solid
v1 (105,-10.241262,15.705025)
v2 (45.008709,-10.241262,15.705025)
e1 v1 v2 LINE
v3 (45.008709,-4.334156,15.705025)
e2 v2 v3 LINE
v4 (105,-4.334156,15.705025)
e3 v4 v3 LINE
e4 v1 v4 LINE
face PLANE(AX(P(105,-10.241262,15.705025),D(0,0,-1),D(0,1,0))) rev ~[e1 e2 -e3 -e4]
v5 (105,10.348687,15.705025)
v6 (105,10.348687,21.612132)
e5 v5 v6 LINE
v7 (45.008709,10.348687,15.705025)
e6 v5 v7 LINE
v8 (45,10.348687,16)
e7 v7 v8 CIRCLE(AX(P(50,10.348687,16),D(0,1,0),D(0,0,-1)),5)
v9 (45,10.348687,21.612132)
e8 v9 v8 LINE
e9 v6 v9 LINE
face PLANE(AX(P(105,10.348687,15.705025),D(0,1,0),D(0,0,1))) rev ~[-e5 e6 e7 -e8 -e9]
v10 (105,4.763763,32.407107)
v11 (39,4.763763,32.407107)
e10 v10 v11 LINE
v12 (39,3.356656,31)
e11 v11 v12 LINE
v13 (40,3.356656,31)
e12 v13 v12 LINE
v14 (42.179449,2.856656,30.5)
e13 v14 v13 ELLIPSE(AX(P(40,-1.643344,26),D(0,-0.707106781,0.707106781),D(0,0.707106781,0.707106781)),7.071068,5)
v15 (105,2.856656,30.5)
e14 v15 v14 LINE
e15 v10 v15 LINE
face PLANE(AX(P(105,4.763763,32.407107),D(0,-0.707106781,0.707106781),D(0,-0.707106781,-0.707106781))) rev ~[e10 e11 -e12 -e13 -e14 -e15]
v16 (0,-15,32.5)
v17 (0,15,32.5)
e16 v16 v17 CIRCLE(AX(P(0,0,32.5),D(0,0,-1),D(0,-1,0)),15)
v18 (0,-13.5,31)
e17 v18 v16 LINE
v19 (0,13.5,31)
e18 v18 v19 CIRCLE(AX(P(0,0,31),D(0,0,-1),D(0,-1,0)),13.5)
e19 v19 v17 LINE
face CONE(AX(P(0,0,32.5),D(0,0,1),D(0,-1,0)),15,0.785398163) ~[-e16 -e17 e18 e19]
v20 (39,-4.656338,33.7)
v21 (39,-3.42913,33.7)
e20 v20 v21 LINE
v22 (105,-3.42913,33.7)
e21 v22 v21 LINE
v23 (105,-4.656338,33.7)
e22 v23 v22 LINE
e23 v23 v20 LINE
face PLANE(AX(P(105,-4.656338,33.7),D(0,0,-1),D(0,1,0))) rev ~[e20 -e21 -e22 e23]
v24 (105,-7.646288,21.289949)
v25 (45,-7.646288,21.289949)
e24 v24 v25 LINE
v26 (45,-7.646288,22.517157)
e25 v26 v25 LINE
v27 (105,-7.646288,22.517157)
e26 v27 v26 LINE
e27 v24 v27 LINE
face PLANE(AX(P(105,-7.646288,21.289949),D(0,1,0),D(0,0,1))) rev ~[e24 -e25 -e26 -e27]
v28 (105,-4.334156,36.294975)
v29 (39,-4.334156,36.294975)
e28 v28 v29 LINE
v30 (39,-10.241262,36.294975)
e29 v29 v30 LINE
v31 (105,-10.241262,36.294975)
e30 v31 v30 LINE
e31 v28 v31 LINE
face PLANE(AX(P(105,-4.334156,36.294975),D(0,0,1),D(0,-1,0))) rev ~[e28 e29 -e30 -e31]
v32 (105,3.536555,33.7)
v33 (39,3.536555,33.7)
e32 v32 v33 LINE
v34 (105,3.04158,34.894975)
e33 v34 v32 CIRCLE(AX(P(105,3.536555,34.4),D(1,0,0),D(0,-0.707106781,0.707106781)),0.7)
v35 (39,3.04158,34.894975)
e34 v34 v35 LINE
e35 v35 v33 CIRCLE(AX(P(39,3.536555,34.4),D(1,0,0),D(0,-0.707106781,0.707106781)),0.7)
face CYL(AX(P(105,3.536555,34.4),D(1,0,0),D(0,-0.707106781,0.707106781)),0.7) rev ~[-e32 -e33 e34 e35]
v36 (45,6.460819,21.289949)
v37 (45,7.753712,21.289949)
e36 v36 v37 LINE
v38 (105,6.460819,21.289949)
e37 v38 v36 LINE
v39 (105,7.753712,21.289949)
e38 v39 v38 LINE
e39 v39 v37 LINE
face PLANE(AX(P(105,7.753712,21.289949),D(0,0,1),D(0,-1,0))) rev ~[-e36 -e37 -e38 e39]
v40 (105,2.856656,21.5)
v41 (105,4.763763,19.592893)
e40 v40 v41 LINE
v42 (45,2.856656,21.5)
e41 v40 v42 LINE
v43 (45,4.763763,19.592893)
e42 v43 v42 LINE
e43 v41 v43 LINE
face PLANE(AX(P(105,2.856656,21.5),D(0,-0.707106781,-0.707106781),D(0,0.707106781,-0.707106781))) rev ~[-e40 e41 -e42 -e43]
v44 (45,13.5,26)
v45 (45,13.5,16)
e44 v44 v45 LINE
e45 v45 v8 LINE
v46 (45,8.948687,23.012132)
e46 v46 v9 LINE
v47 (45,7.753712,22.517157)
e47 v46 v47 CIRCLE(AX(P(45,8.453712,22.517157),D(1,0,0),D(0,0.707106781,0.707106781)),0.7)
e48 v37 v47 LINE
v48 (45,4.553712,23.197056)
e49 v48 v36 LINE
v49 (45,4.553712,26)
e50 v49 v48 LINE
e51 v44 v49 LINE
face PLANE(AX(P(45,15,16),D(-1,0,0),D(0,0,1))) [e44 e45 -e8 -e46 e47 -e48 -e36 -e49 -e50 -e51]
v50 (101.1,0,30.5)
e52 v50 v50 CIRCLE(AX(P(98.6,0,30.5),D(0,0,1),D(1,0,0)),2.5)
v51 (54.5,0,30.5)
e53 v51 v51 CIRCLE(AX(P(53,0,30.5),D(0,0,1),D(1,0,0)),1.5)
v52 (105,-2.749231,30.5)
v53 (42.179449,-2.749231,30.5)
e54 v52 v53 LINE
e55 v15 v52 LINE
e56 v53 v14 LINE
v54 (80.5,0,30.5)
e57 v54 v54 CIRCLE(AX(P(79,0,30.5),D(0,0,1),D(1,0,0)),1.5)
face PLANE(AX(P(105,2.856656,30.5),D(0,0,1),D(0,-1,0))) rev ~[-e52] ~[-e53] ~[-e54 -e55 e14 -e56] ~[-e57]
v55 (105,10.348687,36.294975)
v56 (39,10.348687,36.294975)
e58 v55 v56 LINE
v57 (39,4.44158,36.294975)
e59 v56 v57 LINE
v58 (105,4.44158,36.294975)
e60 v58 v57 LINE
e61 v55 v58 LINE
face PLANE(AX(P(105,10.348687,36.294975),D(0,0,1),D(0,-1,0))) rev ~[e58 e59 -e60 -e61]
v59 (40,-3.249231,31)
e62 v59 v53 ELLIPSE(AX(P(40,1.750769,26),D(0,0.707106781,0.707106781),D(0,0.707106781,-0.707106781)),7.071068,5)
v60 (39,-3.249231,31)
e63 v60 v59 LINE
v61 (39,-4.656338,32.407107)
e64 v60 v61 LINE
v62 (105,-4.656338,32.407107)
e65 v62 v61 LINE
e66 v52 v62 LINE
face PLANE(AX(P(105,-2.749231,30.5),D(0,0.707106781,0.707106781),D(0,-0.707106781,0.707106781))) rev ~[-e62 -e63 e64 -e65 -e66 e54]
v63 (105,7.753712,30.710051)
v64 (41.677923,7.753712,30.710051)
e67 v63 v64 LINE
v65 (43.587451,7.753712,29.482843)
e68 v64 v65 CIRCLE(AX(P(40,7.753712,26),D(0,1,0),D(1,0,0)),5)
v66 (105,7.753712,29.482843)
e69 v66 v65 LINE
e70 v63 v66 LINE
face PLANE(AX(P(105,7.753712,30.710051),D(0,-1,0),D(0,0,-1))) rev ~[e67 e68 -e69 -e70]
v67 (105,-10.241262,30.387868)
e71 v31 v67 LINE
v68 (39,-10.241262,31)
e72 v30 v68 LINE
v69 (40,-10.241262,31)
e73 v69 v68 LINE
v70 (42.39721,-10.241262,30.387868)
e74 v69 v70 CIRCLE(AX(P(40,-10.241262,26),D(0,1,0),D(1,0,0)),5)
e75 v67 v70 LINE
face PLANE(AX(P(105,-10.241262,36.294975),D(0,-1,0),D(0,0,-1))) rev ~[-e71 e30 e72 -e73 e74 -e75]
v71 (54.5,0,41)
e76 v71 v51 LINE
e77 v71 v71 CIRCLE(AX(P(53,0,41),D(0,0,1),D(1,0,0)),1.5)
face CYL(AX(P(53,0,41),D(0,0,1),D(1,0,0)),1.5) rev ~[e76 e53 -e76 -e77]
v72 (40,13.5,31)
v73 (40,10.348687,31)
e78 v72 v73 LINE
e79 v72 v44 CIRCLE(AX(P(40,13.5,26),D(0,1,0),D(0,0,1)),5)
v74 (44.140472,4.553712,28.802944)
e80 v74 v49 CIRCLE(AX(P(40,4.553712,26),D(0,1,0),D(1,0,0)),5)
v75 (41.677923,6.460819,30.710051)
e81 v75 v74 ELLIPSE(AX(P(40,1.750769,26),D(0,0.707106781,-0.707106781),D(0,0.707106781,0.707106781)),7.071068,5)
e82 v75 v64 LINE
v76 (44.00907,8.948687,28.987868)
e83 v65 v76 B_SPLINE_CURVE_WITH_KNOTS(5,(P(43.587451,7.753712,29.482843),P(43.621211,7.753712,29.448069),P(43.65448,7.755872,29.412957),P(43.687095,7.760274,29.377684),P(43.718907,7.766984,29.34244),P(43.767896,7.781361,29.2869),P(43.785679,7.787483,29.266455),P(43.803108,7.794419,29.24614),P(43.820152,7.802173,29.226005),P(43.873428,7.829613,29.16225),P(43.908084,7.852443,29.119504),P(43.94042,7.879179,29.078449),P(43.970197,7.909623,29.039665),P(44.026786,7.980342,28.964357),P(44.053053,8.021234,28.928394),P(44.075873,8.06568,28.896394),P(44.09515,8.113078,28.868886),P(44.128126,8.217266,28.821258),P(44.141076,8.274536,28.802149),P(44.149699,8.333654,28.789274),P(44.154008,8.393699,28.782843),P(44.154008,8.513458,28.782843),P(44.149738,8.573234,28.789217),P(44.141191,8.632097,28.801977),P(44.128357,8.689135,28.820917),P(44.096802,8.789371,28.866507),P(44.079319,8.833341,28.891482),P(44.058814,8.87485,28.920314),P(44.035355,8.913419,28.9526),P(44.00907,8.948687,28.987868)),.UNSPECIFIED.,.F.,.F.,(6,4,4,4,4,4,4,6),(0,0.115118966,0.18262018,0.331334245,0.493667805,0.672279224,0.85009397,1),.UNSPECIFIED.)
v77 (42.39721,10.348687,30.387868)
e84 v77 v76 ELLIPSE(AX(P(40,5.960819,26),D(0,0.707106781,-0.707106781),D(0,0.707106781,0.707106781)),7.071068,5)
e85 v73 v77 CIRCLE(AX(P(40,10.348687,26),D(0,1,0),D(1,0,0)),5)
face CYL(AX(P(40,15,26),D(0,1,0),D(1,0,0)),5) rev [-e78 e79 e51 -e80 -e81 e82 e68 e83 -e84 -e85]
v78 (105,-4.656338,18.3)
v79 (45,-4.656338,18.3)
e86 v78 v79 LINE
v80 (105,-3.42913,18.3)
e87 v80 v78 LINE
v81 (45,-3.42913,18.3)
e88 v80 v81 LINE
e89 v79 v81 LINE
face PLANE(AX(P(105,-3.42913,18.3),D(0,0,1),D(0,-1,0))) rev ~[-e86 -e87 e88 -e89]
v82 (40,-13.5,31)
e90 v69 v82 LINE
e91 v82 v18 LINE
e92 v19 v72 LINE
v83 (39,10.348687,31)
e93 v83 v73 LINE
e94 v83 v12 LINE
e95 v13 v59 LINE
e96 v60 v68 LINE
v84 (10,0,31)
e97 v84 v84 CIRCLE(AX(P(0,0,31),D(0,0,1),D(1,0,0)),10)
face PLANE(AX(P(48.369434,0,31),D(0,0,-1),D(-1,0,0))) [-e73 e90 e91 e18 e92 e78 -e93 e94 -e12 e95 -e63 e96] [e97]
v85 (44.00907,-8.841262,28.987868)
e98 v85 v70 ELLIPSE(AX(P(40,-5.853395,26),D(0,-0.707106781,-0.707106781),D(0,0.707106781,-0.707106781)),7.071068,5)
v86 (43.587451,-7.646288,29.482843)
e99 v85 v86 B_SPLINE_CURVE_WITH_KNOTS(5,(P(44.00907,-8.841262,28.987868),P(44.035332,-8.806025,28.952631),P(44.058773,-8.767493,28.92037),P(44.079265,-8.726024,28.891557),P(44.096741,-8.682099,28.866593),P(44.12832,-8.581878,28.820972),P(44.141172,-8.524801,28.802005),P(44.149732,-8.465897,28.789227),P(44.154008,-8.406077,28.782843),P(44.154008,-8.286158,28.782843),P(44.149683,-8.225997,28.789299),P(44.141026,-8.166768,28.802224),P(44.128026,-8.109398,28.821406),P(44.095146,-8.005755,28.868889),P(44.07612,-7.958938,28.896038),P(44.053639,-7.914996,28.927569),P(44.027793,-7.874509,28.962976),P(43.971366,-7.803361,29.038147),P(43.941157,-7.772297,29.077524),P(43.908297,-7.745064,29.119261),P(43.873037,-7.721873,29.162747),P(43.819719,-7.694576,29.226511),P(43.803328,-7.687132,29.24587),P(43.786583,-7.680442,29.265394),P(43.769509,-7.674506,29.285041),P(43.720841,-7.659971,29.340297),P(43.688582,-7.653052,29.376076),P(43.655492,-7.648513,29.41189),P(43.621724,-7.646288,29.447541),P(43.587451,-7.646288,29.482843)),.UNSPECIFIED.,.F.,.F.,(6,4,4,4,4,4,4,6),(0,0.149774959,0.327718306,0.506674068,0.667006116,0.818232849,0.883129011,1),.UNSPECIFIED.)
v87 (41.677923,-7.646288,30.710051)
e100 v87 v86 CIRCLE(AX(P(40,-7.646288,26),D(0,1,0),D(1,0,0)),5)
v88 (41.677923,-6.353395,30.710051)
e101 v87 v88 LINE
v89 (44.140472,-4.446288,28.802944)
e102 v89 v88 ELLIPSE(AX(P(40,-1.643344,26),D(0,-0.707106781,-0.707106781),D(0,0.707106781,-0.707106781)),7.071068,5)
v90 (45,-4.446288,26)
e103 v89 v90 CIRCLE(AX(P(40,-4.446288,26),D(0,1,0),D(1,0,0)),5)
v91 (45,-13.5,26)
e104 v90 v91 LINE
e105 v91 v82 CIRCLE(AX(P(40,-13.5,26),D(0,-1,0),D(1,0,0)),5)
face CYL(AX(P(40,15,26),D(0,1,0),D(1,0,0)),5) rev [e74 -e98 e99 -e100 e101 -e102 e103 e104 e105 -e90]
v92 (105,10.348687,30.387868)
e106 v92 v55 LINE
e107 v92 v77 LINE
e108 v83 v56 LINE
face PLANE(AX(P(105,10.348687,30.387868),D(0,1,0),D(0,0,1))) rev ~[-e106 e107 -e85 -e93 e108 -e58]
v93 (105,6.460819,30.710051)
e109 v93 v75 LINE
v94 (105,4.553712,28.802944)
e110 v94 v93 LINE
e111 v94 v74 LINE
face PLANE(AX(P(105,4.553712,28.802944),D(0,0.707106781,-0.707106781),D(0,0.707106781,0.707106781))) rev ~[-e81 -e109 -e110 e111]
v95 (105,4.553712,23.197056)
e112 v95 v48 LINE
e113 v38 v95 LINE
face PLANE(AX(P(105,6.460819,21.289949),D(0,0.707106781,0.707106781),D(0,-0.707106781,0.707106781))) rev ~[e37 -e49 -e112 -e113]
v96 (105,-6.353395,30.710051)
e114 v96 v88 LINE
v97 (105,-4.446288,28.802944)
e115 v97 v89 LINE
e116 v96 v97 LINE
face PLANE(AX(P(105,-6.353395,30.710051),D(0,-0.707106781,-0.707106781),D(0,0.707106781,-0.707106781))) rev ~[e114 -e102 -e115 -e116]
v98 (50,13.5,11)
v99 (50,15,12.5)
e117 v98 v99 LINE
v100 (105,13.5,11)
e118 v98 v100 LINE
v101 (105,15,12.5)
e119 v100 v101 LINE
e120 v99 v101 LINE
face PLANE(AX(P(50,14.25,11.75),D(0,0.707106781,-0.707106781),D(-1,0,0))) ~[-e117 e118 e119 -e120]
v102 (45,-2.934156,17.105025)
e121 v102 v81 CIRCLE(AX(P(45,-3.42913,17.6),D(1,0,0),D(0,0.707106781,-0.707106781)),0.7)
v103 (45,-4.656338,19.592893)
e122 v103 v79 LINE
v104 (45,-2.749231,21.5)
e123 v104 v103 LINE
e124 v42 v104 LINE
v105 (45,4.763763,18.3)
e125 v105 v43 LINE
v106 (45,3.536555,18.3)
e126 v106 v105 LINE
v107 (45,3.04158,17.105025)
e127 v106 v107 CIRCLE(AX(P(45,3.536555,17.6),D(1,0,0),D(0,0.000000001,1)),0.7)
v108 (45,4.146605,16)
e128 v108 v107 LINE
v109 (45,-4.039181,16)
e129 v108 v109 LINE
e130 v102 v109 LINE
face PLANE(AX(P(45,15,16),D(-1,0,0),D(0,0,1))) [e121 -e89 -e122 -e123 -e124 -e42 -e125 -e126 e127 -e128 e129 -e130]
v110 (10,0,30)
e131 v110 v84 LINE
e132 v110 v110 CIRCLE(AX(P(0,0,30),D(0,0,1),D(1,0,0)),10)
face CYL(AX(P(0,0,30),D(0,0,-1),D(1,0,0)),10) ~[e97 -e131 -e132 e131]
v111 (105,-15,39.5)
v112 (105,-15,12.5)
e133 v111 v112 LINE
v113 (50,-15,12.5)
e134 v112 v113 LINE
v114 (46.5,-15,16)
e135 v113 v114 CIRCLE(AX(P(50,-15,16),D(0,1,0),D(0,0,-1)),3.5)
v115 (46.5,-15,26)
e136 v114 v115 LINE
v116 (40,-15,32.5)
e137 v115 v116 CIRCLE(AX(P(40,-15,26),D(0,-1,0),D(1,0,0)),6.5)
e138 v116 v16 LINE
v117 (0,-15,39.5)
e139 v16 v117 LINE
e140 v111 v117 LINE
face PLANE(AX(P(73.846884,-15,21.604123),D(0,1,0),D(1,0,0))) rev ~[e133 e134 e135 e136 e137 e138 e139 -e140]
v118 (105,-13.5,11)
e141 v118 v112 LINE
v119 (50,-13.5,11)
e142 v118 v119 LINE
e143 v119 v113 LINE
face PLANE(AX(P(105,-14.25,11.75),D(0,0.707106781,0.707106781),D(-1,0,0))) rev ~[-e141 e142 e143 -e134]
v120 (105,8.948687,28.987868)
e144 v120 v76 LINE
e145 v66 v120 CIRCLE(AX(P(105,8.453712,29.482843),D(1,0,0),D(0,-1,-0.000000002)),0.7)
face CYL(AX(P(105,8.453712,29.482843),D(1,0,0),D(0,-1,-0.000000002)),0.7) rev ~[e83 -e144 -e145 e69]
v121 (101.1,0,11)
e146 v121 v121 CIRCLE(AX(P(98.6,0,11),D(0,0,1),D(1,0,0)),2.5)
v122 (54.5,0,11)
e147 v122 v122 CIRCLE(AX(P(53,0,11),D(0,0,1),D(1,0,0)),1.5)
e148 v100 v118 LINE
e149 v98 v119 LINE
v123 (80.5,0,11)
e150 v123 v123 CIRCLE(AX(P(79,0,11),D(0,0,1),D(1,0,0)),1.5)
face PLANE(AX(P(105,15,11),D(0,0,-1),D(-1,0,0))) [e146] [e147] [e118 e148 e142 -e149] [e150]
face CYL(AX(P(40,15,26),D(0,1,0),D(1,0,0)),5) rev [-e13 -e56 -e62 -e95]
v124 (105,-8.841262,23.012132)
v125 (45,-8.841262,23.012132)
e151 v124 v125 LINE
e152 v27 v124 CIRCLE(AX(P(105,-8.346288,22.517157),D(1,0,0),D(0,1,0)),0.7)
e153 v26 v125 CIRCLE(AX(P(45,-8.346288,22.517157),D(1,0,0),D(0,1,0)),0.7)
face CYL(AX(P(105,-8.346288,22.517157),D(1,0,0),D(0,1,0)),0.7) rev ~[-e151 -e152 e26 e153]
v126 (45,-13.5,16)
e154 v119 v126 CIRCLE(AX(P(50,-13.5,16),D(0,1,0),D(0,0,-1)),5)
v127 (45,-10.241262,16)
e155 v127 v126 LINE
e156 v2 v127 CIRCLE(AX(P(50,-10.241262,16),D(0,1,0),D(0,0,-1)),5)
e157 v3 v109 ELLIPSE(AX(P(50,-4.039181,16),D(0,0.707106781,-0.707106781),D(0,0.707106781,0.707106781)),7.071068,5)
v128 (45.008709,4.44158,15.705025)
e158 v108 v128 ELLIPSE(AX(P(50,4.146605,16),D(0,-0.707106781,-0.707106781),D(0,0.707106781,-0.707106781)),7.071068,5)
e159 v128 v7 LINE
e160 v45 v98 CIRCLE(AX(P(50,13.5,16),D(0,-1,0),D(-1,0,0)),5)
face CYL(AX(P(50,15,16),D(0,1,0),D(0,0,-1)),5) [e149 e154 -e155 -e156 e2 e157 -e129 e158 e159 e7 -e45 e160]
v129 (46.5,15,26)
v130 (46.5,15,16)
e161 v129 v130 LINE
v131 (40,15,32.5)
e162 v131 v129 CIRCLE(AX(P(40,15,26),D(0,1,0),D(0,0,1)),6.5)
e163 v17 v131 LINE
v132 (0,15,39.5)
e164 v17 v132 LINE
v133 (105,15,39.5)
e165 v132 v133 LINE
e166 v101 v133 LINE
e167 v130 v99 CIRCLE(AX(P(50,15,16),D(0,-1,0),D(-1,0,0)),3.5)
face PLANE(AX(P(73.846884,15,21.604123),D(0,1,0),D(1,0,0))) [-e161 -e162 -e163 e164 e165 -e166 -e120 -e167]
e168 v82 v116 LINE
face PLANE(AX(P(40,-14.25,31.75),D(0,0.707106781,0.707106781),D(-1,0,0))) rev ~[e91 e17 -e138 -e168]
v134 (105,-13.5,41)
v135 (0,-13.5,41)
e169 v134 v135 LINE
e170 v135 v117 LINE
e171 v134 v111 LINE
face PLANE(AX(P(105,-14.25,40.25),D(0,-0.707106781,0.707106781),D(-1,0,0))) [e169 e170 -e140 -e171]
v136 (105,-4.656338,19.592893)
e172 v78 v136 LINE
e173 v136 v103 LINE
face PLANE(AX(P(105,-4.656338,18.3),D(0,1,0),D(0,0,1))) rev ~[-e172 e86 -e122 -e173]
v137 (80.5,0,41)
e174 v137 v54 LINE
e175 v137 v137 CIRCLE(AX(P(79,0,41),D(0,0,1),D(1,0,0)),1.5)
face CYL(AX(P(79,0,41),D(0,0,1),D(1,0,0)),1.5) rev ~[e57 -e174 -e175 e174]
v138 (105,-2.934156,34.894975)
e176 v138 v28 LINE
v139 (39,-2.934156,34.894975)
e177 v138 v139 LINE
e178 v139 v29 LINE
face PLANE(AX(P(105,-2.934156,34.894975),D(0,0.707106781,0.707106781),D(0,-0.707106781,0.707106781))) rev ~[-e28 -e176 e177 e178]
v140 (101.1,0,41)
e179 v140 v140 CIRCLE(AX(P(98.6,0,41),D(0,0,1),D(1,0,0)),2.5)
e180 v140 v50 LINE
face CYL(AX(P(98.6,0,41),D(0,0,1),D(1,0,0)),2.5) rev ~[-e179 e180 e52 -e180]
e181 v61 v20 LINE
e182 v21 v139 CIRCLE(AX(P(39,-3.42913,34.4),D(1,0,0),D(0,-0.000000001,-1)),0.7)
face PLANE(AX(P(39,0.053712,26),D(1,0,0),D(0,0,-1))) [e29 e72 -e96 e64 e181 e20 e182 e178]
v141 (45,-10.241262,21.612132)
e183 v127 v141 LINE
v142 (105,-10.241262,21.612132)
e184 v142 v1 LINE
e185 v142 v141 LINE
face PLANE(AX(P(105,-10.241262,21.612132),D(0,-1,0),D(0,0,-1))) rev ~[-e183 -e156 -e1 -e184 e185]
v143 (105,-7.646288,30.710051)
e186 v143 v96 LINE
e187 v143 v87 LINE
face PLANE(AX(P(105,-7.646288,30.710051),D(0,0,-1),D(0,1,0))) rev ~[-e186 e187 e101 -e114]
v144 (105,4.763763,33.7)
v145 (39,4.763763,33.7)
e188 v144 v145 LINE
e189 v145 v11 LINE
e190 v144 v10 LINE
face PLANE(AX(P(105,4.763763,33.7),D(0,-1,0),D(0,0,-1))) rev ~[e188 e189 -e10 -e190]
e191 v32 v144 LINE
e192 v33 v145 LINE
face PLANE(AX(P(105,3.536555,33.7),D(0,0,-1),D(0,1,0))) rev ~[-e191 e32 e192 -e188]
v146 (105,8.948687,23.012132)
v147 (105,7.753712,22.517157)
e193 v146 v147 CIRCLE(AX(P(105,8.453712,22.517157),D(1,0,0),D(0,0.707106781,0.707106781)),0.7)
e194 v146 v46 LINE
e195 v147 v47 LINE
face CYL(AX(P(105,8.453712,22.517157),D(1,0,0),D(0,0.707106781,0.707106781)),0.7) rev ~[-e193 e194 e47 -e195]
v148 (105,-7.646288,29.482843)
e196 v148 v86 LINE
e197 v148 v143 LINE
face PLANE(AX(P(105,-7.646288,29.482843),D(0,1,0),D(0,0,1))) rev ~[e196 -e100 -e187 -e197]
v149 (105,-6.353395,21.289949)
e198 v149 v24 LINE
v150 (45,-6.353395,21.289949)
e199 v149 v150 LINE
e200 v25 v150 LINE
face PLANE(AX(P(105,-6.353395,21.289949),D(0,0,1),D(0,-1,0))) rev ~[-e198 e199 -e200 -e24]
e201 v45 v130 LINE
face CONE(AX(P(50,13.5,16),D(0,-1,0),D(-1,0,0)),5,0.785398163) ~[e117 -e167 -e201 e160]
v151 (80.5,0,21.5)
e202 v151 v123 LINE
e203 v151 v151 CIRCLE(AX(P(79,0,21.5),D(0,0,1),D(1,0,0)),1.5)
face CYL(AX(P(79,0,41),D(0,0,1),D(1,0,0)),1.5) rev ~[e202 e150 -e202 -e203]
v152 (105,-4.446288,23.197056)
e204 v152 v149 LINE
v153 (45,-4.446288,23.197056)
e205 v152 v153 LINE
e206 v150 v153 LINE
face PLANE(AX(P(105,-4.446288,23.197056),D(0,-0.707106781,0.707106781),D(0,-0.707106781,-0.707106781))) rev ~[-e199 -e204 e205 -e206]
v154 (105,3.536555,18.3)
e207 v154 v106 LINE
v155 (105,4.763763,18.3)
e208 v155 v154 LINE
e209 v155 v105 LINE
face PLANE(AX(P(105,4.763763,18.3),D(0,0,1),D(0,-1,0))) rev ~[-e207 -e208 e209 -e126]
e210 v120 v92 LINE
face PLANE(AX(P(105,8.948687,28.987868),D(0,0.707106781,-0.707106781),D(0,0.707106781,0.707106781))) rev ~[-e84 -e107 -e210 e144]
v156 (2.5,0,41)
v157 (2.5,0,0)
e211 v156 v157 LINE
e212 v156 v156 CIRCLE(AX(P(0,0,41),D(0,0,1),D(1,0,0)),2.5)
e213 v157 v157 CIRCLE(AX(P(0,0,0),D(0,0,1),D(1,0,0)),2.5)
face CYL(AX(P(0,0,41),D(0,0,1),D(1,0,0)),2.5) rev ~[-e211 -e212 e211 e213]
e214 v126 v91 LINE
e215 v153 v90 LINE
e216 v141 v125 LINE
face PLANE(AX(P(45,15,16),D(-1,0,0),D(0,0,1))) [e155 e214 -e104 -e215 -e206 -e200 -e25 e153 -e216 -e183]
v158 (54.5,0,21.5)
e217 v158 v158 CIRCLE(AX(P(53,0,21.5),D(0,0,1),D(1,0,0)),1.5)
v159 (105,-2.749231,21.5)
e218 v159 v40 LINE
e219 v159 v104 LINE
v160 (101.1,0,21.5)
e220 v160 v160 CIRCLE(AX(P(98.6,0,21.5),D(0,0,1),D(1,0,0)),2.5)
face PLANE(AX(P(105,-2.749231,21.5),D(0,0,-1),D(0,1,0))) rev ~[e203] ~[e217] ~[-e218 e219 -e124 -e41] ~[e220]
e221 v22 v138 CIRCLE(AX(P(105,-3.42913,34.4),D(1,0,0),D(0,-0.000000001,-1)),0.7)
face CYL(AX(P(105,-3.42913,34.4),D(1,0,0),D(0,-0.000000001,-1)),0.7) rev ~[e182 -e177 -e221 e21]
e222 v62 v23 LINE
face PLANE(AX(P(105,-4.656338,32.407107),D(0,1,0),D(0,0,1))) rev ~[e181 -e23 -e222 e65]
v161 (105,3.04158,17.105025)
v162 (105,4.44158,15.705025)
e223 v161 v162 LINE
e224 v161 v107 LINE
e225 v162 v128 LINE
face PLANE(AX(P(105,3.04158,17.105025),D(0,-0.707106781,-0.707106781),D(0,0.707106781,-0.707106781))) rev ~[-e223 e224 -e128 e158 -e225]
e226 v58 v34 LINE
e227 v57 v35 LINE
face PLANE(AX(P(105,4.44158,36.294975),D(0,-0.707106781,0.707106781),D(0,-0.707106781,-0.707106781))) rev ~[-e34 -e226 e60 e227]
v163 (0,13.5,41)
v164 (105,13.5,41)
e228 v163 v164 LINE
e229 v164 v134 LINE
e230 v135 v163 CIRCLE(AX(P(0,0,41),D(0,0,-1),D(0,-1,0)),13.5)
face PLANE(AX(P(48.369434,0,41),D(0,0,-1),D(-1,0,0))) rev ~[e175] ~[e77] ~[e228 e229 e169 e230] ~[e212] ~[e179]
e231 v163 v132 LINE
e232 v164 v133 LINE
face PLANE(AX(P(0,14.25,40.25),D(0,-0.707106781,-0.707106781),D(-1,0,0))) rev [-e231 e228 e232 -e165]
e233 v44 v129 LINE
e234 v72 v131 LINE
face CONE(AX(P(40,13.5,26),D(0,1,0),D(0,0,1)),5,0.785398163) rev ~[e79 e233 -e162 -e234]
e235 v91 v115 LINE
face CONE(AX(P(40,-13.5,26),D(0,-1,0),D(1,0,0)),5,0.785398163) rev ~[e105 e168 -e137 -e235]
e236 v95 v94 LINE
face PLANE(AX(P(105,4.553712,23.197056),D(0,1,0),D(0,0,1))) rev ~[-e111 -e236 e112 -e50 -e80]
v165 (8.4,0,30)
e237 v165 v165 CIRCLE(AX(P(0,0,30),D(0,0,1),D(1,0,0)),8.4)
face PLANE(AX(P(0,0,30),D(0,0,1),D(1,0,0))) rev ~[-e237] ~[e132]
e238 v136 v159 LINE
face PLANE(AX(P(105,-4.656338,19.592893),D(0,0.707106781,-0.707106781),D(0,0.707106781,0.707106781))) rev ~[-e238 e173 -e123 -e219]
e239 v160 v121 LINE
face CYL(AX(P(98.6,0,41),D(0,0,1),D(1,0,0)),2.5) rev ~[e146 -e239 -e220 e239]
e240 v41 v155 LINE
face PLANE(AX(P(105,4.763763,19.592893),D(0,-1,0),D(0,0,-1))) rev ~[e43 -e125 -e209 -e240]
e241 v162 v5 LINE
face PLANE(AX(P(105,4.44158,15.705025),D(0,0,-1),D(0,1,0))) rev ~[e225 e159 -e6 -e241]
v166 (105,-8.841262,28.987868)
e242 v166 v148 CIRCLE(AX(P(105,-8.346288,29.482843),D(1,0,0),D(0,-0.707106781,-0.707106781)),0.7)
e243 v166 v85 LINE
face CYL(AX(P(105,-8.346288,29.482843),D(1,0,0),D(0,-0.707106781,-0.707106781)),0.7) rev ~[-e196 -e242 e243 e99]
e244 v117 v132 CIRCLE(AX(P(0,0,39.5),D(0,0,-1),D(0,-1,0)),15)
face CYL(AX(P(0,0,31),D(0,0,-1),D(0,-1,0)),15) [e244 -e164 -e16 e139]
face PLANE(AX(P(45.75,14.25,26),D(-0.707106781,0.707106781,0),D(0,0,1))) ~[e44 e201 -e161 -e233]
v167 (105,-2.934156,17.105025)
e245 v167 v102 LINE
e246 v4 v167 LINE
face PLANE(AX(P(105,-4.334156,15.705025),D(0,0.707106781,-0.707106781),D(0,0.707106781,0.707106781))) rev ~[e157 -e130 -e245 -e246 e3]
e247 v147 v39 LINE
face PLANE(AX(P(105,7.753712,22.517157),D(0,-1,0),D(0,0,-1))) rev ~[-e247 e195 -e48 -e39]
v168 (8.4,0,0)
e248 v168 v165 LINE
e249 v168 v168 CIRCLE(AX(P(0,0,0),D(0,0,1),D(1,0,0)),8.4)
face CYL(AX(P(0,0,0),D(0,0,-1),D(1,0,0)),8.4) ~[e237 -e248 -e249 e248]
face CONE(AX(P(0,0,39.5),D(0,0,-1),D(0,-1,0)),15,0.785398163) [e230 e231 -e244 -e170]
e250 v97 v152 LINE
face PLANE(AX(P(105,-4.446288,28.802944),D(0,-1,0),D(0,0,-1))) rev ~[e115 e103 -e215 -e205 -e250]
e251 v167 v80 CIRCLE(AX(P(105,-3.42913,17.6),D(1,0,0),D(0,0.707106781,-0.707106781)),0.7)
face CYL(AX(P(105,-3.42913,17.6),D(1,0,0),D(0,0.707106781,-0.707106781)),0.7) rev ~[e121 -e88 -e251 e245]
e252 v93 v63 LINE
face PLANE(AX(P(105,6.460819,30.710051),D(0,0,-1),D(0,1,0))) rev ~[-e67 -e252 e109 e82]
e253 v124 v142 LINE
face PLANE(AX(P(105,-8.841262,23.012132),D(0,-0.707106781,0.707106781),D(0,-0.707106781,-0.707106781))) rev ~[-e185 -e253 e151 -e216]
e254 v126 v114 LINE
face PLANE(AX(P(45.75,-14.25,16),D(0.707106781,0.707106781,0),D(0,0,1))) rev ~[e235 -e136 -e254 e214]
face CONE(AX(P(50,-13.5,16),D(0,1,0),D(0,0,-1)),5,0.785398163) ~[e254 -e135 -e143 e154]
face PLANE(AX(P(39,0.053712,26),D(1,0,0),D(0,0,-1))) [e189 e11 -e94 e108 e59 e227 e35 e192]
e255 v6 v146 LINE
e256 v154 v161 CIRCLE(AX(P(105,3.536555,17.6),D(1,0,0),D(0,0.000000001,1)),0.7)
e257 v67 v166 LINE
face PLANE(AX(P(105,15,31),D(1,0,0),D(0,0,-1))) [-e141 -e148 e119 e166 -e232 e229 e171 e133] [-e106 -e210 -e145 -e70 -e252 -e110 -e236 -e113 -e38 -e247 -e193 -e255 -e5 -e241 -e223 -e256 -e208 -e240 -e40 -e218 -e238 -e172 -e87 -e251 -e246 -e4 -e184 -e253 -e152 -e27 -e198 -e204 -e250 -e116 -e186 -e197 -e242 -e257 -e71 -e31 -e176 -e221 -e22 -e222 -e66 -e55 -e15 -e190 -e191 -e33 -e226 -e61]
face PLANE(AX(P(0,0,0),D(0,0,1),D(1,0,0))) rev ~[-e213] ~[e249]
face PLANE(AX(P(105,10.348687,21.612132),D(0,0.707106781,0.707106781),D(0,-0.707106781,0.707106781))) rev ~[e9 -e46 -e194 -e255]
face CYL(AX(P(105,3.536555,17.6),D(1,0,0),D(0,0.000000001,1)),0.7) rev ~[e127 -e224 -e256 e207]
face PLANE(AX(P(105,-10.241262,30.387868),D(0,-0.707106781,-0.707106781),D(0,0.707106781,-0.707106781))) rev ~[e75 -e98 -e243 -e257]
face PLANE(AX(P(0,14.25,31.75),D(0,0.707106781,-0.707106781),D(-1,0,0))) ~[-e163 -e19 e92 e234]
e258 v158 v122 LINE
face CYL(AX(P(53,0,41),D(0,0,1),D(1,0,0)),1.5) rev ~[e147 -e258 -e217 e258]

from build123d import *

# Parameters (mm, degrees)
SKETCH1_R           = 8.4
BOSS_EXTRUDE1_DEPTH = 30
SKETCH3_R           = 10
BOSS_EXTRUDE2_DEPTH = 1
BOSS_EXTRUDE3_DEPTH = 10
BOSS_EXTRUDE4_DEPTH = 30
CUT_EXTRUDE1_DEPTH  = 66
CHAMFER1_SIZE       = 1.5
SKETCH7_R           = 1.5
SKETCH7_R_2         = 2.5
CUT_EXTRUDE2_DEPTH  = 42


with BuildPart() as part:
    # Sketch1 → Boss-Extrude1 (new body)
    with BuildSketch(Plane.XY):
        Circle(SKETCH1_R)
    extrude(amount=BOSS_EXTRUDE1_DEPTH)

    # Sketch3 → Boss-Extrude2 (add)
    with BuildSketch(Plane.XY.offset(30)):
        Circle(SKETCH3_R)
    extrude(amount=BOSS_EXTRUDE2_DEPTH)

    # Sketch4 → Boss-Extrude3 (add)
    with BuildSketch(Plane.XY.offset(31)):
        with BuildLine():
            Line((0, 15), (105, 15))
            Line((105, 15), (105, -15))
            Line((105, -15), (0, -15))
            ThreePointArc((0, -15), (-15, 0), (0, 15))
        make_face()
    extrude(amount=BOSS_EXTRUDE3_DEPTH)

    # Sketch5 → Boss-Extrude4 (add)
    with BuildSketch(Plane(origin=(0, 15, 0), x_dir=(1, 0, 0), z_dir=(0, 1, 0))):
        with BuildLine():
            Line((40, -31), (105, -31))
            Line((105, -31), (105, -11))
            Line((105, -11), (50, -11))
            ThreePointArc((50, -11), (46.464466094, -12.464466094), (45, -16))
            Line((45, -16), (45, -26))
            ThreePointArc((45, -26), (43.535533906, -29.535533906), (40, -31))
        make_face()
    extrude(amount=-BOSS_EXTRUDE4_DEPTH)

    # Sketch6 → Cut-Extrude1 (cut)
    with BuildSketch(Plane(origin=(105, 0, 0), x_dir=(0, 0, -1), z_dir=(1, 0, 0))):
        with BuildLine():
            Line((-23.197056275, 4.553712276), (-28.802943725, 4.553712276))
            Line((-28.802943725, 4.553712276), (-30.710050506, 6.460819058))
            Line((-30.710050506, 6.460819058), (-30.710050506, 7.753712276))
            Line((-30.710050506, 7.753712276), (-29.482842712, 7.753712276))
            ThreePointArc((-29.482842712, 7.753712276), (-28.83612704, 8.185833874), (-28.987867966, 8.948687023))
            Line((-28.987867966, 8.948687023), (-30.387867966, 10.348687023))
            Line((-30.387867966, 10.348687023), (-36.294974747, 10.348687023))
            Line((-36.294974747, 10.348687023), (-36.294974747, 4.441580242))
            Line((-36.294974747, 4.441580242), (-34.894974747, 3.041580242))
            ThreePointArc((-34.894974747, 3.041580242), (-34.132121597, 2.889839316), (-33.7, 3.536554989))
            Line((-33.7, 3.536554989), (-33.7, 4.763762783))
            Line((-33.7, 4.763762783), (-32.407106781, 4.763762783))
            Line((-32.407106781, 4.763762783), (-30.5, 2.856656002))
            Line((-30.5, 2.856656002), (-30.5, -2.749231449))
            Line((-30.5, -2.749231449), (-32.407106781, -4.65633823))
            Line((-32.407106781, -4.65633823), (-33.7, -4.65633823))
            Line((-33.7, -4.65633823), (-33.7, -3.429130436))
            ThreePointArc((-33.7, -3.429130436), (-34.132121597, -2.782414763), (-34.894974747, -2.934155689))
            Line((-34.894974747, -2.934155689), (-36.294974747, -4.334155689))
            Line((-36.294974747, -4.334155689), (-36.294974747, -10.24126247))
            Line((-36.294974747, -10.24126247), (-30.387867966, -10.24126247))
            Line((-30.387867966, -10.24126247), (-28.987867966, -8.84126247))
            ThreePointArc((-28.987867966, -8.84126247), (-28.83612704, -8.078409321), (-29.482842712, -7.646287724))
            Line((-29.482842712, -7.646287724), (-30.710050506, -7.646287724))
            Line((-30.710050506, -7.646287724), (-30.710050506, -6.353394505))
            Line((-30.710050506, -6.353394505), (-28.802943725, -4.446287724))
            Line((-28.802943725, -4.446287724), (-23.197056275, -4.446287724))
            Line((-23.197056275, -4.446287724), (-21.289949494, -6.353394505))
            Line((-21.289949494, -6.353394505), (-21.289949494, -7.646287724))
            Line((-21.289949494, -7.646287724), (-22.517157288, -7.646287724))
            ThreePointArc((-22.517157288, -7.646287724), (-23.16387296, -8.078409321), (-23.012132034, -8.84126247))
            Line((-23.012132034, -8.84126247), (-21.612132034, -10.24126247))
            Line((-21.612132034, -10.24126247), (-15.705025253, -10.24126247))
            Line((-15.705025253, -10.24126247), (-15.705025253, -4.334155689))
            Line((-15.705025253, -4.334155689), (-17.105025253, -2.934155689))
            ThreePointArc((-17.105025253, -2.934155689), (-17.867878403, -2.782414763), (-18.3, -3.429130436))
            Line((-18.3, -3.429130436), (-18.3, -4.65633823))
            Line((-18.3, -4.65633823), (-19.592893219, -4.65633823))
            Line((-19.592893219, -4.65633823), (-21.5, -2.749231449))
            Line((-21.5, -2.749231449), (-21.5, 2.856656002))
            Line((-21.5, 2.856656002), (-19.592893219, 4.763762783))
            Line((-19.592893219, 4.763762783), (-18.3, 4.763762783))
            Line((-18.3, 4.763762783), (-18.3, 3.536554989))
            ThreePointArc((-18.3, 3.536554989), (-17.867878403, 2.889839316), (-17.105025253, 3.041580242))
            Line((-17.105025253, 3.041580242), (-15.705025253, 4.441580242))
            Line((-15.705025253, 4.441580242), (-15.705025253, 10.348687023))
            Line((-15.705025253, 10.348687023), (-21.612132034, 10.348687023))
            Line((-21.612132034, 10.348687023), (-23.012132034, 8.948687023))
            ThreePointArc((-23.012132034, 8.948687023), (-23.16387296, 8.185833874), (-22.517157288, 7.753712276))
            Line((-22.517157288, 7.753712276), (-21.289949494, 7.753712276))
            Line((-21.289949494, 7.753712276), (-21.289949494, 6.460819058))
            Line((-21.289949494, 6.460819058), (-23.197056275, 4.553712276))
        make_face()
    extrude(amount=-CUT_EXTRUDE1_DEPTH, mode=Mode.SUBTRACT)

    # Chamfer1
    chamfer1_edges = [part.edges().sort_by_distance(p)[0] for p in [
        (-15, 0, 31),
        (20, -15, 31),
        (-15, 0, 41),
        (52.5, -15, 41),
        (52.5, 15, 41),
        (20, 15, 31),
        (43.535533906, -15, 29.535533906),
        (45, -15, 21),
        (46.464466094, -15, 12.464466094),
        (77.5, -15, 11),
        (77.5, 15, 11),
        (46.464466094, 15, 12.464466094),
        (45, 15, 21),
        (43.535533906, 15, 29.535533906),
    ]]
    chamfer(chamfer1_edges, length=CHAMFER1_SIZE)

    # Sketch7 → Cut-Extrude2 (cut, through all)
    with BuildSketch(Plane.XY.offset(41)):
        with Locations((53, 0)):
            Circle(SKETCH7_R)
        with Locations((79, 0)):
            Circle(SKETCH7_R)
        with Locations((98.6, 0)):
            Circle(SKETCH7_R_2)
        Circle(SKETCH7_R_2)
    extrude(amount=-CUT_EXTRUDE2_DEPTH, mode=Mode.SUBTRACT)


solid = part.part
